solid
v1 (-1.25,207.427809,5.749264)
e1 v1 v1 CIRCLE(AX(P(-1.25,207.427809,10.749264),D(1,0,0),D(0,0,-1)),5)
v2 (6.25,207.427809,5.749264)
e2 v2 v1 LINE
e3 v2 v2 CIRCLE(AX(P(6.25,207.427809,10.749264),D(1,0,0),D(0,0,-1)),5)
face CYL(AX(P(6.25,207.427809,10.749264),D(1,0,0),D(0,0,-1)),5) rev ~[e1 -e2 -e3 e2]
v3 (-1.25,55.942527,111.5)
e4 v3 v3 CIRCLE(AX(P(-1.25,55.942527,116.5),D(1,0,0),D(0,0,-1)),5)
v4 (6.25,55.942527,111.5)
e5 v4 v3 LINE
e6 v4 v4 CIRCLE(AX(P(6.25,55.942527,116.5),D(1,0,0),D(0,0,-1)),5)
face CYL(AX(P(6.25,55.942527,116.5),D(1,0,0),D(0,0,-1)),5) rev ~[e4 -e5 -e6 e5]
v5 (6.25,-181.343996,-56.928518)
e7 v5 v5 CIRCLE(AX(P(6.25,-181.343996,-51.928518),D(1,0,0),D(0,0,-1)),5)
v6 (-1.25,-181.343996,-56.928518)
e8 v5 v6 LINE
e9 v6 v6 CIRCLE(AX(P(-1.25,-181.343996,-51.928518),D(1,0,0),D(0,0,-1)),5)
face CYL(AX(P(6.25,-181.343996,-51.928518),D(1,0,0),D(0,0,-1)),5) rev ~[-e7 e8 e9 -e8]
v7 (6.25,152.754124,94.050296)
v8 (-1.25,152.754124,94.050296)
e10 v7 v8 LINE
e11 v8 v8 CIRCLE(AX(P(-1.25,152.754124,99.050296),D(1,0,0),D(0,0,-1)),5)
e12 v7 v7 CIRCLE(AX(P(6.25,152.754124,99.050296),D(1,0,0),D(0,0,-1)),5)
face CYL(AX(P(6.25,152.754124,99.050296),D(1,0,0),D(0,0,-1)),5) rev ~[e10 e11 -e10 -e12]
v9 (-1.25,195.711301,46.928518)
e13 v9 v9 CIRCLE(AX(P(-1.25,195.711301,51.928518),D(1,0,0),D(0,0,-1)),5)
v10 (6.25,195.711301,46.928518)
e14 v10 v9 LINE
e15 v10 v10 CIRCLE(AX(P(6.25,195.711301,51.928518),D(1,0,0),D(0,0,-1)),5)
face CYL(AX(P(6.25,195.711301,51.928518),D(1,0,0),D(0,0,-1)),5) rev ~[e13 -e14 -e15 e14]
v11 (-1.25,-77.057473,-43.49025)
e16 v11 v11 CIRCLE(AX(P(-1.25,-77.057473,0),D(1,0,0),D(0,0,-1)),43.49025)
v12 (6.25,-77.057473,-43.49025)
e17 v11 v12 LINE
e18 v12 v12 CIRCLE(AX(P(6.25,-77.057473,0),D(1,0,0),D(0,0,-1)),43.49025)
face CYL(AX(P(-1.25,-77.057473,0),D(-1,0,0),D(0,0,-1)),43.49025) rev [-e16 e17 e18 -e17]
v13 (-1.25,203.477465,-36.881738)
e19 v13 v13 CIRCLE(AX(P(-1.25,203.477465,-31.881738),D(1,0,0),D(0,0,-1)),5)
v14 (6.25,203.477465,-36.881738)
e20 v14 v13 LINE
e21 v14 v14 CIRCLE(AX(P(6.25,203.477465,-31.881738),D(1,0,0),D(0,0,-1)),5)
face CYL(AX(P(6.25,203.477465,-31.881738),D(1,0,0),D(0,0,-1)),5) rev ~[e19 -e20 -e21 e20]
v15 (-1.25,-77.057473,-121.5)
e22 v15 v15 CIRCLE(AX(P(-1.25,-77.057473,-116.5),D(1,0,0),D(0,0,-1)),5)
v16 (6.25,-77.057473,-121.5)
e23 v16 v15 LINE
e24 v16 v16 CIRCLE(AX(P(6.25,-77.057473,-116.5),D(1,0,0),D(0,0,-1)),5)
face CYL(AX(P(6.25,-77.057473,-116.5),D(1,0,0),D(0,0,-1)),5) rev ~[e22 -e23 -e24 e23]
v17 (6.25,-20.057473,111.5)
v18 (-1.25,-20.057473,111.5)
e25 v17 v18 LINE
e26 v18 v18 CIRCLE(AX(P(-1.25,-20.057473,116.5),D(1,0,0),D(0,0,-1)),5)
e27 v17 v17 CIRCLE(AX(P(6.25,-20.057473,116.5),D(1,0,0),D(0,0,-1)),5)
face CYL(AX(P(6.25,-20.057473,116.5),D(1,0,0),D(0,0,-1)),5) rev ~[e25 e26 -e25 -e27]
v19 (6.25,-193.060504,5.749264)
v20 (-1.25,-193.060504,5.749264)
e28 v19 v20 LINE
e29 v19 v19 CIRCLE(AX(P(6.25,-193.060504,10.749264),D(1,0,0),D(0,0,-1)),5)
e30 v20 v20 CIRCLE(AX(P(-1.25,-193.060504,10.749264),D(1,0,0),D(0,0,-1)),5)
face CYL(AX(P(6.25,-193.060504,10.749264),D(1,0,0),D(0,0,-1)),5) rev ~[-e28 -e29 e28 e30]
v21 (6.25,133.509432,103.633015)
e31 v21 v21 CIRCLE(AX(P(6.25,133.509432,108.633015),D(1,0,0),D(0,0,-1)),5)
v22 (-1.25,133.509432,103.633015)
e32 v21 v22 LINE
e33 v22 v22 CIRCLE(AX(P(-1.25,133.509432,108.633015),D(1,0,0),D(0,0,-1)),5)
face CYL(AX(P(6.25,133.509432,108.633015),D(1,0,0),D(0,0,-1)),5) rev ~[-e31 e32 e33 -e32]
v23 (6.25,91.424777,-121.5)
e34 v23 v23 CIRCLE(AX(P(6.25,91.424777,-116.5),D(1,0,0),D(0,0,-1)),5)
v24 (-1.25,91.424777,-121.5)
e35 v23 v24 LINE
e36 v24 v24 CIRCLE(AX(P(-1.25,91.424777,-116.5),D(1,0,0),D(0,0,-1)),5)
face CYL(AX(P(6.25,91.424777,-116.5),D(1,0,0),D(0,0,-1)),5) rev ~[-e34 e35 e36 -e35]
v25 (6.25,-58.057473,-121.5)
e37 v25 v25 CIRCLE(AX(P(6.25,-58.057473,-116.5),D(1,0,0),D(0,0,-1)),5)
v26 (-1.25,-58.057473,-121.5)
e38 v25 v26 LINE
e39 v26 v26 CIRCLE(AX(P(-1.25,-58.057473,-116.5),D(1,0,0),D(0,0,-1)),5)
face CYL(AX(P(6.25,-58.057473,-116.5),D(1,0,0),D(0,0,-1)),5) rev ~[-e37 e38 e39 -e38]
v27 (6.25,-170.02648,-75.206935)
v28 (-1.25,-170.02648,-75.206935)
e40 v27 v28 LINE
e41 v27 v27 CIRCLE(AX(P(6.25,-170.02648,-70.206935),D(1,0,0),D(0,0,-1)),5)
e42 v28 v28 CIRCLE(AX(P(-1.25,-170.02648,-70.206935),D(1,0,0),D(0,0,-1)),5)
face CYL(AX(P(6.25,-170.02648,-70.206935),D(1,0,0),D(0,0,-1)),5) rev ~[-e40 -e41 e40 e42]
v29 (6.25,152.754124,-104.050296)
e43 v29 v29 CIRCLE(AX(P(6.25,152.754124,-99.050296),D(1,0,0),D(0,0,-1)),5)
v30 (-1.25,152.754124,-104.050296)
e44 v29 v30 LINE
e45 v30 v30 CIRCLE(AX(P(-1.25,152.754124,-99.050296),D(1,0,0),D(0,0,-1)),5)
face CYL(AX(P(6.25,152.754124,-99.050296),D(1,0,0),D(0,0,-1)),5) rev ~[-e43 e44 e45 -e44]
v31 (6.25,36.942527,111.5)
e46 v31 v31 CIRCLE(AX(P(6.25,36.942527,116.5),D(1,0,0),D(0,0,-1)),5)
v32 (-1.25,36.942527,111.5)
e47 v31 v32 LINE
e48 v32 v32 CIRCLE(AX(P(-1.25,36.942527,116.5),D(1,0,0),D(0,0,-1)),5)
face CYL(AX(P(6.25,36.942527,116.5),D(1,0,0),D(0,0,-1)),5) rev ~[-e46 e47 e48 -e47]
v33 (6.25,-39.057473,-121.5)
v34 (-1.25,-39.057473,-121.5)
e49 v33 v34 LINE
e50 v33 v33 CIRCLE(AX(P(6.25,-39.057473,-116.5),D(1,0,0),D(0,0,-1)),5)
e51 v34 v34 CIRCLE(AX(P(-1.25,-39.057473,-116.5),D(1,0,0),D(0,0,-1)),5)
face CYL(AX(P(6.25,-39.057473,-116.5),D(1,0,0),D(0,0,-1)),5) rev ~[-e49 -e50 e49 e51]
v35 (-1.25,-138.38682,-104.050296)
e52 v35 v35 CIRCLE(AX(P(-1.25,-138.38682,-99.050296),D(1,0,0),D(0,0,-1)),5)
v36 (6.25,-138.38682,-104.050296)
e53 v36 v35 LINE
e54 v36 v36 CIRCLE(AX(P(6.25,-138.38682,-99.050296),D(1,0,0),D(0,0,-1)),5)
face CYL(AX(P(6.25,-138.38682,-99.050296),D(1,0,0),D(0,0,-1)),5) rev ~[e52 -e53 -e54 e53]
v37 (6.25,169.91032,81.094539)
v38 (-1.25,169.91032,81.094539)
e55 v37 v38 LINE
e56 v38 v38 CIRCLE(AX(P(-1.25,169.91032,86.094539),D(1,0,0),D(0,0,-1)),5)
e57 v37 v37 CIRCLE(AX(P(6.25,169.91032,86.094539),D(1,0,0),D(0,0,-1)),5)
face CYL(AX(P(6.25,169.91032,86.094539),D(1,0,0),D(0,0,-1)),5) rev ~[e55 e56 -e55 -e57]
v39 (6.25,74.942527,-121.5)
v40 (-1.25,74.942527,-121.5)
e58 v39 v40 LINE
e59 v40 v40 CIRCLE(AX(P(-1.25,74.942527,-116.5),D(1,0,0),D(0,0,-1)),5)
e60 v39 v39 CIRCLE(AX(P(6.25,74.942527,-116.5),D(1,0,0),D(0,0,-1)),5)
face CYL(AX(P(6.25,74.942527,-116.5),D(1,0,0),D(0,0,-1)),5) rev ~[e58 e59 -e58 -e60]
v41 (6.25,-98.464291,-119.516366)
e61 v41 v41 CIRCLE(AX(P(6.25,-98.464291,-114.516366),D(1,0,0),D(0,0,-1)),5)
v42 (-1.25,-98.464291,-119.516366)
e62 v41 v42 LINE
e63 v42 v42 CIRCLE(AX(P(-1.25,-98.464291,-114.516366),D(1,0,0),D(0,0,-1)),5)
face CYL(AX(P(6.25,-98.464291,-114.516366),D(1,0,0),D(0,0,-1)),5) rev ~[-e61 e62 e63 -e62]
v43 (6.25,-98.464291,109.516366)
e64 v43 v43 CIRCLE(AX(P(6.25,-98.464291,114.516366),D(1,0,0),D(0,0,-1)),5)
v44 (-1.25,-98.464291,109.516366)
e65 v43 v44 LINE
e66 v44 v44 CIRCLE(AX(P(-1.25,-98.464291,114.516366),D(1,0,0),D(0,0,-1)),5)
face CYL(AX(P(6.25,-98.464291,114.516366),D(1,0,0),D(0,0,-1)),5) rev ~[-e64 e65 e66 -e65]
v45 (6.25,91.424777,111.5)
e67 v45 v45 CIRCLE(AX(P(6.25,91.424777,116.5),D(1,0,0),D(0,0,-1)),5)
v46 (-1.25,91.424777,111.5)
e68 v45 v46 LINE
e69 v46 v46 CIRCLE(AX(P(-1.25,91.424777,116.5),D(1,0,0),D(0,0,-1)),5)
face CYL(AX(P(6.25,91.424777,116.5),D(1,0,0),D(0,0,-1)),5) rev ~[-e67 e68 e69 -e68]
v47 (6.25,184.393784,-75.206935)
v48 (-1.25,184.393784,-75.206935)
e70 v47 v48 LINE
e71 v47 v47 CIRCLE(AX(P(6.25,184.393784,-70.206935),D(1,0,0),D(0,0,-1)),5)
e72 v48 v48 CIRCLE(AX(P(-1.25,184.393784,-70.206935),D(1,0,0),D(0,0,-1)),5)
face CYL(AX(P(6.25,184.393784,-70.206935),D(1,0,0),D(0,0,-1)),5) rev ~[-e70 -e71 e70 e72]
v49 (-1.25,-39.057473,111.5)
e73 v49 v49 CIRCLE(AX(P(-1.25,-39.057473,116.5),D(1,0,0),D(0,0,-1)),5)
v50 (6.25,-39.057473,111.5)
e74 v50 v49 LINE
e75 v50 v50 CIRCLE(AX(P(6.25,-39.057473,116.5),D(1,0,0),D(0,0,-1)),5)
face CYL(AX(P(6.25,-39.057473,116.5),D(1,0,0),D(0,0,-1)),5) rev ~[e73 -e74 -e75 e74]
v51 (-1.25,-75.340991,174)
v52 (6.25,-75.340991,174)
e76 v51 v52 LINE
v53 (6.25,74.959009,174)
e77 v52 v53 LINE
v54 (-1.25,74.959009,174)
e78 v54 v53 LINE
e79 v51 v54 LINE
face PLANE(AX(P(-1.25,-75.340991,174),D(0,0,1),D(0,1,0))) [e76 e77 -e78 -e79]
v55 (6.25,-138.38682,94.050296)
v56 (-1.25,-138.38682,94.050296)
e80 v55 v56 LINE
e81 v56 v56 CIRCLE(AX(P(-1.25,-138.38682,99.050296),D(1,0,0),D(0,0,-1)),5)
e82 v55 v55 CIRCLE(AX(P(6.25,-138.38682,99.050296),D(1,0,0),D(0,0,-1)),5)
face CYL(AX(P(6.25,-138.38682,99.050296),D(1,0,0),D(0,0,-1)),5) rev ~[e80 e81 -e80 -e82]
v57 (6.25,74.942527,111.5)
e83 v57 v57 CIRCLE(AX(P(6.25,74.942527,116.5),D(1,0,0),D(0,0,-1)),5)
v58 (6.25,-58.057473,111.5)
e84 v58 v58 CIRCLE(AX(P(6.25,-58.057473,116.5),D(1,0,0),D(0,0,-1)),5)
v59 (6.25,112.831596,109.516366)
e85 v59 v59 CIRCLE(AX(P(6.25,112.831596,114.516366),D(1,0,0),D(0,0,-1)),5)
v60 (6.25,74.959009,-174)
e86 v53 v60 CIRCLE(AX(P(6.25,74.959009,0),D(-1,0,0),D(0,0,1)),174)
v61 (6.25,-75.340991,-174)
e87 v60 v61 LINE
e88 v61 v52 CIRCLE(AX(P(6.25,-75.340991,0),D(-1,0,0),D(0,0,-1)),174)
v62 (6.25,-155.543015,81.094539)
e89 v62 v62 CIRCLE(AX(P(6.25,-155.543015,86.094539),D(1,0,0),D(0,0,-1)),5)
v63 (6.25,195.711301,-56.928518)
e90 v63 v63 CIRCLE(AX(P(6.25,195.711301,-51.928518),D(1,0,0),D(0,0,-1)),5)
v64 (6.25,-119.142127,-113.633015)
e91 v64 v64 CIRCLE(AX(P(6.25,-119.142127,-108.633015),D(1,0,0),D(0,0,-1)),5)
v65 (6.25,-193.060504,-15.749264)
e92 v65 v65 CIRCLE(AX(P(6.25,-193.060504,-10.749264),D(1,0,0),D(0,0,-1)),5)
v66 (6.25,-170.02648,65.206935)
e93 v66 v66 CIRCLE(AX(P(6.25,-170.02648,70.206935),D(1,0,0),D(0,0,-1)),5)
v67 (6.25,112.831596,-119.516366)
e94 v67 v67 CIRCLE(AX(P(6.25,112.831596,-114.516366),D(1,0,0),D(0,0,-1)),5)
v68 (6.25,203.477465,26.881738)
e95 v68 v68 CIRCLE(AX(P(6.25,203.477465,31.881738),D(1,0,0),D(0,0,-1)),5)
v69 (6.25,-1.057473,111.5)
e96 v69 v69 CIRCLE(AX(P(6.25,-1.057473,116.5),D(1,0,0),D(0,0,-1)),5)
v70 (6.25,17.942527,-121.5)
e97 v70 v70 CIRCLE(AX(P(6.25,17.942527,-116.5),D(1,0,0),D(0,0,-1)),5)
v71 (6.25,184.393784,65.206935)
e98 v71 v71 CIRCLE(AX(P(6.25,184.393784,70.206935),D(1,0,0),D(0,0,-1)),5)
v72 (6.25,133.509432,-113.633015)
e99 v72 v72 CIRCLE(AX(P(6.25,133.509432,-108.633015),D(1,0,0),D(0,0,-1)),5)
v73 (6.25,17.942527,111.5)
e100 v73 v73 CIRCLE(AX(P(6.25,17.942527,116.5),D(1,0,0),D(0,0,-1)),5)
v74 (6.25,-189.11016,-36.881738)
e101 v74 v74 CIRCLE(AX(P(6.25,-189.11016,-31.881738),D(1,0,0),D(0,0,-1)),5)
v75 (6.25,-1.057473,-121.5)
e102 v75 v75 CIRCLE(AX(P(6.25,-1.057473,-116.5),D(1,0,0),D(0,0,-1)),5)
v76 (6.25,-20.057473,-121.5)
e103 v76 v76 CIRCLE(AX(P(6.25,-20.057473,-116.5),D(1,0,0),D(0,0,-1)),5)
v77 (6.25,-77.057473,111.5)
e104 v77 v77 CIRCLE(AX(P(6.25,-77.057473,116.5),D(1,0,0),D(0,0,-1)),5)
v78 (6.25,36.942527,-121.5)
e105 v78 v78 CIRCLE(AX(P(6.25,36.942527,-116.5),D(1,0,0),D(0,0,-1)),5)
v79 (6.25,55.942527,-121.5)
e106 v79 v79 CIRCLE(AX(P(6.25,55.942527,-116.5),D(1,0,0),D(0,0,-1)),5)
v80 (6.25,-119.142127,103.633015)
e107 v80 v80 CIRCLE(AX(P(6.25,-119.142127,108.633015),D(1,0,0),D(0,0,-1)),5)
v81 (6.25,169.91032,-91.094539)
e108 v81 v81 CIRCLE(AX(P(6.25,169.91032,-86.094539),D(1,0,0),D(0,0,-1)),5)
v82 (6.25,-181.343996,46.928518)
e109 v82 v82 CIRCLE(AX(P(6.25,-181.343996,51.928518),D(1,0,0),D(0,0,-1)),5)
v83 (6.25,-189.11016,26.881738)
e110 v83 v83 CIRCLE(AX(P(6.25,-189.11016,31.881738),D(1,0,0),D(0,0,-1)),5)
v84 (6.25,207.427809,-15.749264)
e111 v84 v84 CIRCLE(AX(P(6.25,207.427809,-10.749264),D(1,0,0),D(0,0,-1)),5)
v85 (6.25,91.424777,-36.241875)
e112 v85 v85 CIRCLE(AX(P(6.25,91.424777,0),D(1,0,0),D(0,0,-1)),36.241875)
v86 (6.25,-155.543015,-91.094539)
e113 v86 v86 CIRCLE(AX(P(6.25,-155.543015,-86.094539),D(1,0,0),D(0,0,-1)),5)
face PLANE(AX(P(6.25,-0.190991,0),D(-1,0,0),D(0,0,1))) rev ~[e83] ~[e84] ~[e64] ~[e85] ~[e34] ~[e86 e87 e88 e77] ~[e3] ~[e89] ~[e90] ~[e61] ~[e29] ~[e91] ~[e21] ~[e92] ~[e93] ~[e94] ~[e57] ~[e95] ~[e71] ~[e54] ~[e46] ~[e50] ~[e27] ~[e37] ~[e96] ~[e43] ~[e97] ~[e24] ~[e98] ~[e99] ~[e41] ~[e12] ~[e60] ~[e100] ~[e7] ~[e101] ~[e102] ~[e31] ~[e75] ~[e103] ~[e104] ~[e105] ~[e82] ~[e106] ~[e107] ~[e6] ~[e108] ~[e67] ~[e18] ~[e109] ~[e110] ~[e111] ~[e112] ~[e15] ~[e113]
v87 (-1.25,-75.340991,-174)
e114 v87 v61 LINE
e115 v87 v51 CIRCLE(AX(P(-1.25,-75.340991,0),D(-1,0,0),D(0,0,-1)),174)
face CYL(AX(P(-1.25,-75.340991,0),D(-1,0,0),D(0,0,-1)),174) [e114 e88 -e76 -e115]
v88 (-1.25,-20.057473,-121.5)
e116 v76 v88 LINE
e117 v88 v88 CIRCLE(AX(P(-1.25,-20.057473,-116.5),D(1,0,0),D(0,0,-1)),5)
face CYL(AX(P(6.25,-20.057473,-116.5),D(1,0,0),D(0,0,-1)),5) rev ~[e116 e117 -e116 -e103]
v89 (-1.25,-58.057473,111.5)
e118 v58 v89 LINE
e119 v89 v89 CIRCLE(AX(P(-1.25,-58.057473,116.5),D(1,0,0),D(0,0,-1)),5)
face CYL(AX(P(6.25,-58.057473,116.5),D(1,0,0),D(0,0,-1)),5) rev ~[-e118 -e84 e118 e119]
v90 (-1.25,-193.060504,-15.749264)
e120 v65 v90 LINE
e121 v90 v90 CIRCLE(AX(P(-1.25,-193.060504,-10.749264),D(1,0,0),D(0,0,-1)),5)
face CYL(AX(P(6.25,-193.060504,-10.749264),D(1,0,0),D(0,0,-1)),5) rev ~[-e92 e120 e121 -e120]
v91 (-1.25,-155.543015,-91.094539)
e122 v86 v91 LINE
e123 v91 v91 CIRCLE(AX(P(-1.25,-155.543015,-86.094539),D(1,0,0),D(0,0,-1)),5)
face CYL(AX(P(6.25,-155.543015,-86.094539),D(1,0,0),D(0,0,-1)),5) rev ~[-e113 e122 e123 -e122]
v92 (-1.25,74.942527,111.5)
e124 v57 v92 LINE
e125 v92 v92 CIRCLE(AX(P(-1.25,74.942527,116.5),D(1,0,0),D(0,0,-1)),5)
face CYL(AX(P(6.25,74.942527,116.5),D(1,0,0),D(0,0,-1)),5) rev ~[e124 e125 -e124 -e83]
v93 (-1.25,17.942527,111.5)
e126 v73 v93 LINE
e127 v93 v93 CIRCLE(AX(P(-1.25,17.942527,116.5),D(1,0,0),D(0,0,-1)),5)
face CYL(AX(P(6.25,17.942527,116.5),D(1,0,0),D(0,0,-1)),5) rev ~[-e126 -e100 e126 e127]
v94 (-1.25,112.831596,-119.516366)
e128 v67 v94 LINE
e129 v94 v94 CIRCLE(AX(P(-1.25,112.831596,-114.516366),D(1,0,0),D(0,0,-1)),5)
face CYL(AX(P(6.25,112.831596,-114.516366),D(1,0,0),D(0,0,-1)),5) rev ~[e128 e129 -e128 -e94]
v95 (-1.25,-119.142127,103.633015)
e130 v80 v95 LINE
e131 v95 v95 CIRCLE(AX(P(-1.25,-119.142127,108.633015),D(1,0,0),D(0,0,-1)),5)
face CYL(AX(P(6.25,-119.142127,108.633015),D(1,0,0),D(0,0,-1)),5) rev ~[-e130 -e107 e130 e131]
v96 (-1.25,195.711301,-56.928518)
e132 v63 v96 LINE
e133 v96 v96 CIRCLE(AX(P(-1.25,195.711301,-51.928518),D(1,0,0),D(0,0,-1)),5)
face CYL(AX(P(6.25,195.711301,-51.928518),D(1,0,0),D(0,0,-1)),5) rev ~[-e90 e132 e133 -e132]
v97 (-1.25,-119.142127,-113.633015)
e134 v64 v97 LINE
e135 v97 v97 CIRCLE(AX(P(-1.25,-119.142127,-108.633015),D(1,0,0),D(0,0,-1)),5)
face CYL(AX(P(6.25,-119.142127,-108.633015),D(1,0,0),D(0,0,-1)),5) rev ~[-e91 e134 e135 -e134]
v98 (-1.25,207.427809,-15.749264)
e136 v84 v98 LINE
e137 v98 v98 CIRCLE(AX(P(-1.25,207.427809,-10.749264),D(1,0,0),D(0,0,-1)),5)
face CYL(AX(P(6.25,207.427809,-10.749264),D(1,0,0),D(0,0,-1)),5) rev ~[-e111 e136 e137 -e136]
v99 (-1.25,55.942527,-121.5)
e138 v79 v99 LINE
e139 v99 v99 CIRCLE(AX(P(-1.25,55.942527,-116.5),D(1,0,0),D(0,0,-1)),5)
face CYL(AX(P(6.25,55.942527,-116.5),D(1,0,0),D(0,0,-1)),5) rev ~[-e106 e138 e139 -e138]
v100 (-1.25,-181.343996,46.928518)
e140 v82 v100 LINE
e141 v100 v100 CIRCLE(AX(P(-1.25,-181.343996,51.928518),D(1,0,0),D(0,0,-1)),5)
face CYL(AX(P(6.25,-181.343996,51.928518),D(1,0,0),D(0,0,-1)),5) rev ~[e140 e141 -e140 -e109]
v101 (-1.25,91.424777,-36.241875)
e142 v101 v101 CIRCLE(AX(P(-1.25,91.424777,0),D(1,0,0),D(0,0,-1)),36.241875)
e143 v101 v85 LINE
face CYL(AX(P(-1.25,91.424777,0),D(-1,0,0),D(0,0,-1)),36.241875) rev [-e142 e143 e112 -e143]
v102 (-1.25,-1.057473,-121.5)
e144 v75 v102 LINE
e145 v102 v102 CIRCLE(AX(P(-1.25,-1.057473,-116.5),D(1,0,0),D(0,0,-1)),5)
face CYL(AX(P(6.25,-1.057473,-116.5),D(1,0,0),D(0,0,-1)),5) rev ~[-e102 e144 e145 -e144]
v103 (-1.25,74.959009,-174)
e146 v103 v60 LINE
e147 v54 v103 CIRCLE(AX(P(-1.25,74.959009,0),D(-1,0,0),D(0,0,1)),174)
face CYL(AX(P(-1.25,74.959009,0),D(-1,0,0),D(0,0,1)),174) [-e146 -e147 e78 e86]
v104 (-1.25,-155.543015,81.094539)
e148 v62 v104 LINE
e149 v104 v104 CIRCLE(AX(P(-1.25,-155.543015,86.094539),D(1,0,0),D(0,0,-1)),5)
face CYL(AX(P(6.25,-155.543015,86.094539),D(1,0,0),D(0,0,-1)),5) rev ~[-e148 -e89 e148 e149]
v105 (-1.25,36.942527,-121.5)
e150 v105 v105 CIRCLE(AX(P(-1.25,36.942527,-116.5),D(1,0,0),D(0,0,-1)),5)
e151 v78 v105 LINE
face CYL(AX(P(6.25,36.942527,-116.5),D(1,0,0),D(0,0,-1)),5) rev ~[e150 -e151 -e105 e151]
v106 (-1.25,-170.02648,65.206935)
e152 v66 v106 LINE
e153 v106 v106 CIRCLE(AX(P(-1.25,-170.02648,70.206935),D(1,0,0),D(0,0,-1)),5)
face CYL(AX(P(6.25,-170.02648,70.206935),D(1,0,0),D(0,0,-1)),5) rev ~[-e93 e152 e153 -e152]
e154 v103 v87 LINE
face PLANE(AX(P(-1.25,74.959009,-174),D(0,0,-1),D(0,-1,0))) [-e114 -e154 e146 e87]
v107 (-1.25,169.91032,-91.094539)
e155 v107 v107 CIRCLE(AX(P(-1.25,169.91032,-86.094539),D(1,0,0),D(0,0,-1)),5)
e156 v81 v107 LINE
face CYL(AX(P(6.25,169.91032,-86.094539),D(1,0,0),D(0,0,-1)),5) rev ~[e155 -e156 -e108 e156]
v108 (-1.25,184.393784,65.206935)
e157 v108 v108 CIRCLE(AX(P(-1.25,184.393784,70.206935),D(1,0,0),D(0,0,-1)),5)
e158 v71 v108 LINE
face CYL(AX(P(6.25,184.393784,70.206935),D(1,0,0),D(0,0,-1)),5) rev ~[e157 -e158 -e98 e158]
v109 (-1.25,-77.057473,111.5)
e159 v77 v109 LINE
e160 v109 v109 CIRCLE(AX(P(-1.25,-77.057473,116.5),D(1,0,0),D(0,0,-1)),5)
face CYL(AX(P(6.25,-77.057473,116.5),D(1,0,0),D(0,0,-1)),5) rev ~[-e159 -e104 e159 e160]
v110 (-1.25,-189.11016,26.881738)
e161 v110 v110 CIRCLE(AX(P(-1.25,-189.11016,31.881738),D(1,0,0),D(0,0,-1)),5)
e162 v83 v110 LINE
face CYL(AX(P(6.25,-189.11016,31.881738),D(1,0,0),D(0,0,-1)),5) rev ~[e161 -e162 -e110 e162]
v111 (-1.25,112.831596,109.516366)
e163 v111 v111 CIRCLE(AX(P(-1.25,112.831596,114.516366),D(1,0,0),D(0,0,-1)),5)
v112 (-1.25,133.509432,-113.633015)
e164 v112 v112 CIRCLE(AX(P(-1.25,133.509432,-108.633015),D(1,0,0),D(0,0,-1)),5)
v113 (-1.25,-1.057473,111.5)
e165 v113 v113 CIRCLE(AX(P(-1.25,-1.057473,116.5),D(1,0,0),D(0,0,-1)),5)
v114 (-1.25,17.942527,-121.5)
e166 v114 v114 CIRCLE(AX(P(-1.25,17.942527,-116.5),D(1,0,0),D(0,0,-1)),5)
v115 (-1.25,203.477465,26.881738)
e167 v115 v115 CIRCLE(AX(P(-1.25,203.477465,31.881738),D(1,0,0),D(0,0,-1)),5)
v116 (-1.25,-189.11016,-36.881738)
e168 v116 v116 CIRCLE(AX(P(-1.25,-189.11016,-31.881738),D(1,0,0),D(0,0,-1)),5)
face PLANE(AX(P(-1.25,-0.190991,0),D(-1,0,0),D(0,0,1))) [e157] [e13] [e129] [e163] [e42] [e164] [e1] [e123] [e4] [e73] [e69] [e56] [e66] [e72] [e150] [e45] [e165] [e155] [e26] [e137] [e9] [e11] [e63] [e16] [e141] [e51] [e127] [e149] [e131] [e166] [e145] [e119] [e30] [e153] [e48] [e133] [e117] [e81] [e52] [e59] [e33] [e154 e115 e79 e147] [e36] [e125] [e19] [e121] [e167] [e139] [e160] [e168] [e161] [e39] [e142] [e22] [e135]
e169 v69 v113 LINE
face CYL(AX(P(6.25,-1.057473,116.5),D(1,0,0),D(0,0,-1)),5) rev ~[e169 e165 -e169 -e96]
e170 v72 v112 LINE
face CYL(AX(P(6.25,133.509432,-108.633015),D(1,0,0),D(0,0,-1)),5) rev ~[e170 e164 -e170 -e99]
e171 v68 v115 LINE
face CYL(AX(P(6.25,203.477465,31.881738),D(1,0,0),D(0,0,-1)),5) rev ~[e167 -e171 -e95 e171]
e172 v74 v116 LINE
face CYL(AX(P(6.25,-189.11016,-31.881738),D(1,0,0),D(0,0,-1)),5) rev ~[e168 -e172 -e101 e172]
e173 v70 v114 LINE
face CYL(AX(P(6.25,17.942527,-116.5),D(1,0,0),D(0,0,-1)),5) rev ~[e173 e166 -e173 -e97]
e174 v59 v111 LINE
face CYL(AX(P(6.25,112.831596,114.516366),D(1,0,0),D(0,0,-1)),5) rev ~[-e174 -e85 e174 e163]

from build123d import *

# Parameters (mm, degrees)
SKETCH1_R           = 24.16125
SKETCH1_R_2         = 28.9935
BOSS_EXTRUDE1_DEPTH = 5
SCALE1_SCALE        = 1.5
SKETCH2_R           = 5
CUT_EXTRUDE1_DEPTH  = 10


with BuildPart() as part:
    # Sketch1 → Boss-Extrude1 (new body)
    with BuildSketch(Plane(origin=(0, 0, 0), x_dir=(0, 0, -1), z_dir=(1, 0, 0))):
        with BuildLine():
            Line((116, 50.1), (116, -50.1))
            ThreePointArc((116, -50.1), (0, -166.1), (-116, -50.1))
            Line((-116, -50.1), (-116, 50.1))
            ThreePointArc((-116, 50.1), (0, 166.1), (116, 50.1))
        make_face()
        with Locations((0, 61.077179293)):
            Circle(SKETCH1_R, mode=Mode.SUBTRACT)
        with Locations((0, -51.244320707)):
            Circle(SKETCH1_R_2, mode=Mode.SUBTRACT)
    extrude(amount=BOSS_EXTRUDE1_DEPTH)


with BuildPart() as part_1:
    # Scale1: scaled about (2.5, 0.381982972, 0)
    add(part.part.scale(SCALE1_SCALE).moved(Location((-1.25, -0.190991486, 0))))

    # Sketch2 → Cut-Extrude1 (cut)
    with BuildSketch(Plane(origin=(6.25, 0, 0), x_dir=(0, 0, -1), z_dir=(1, 0, 0))):
        with Locations((116.5, -58.057472547)):
            Circle(SKETCH2_R)
        with Locations((116.5, -77.057472547)):
            Circle(SKETCH2_R)
        with Locations((114.516366113, -98.464291372)):
            Circle(SKETCH2_R)
        with Locations((108.633014726, -119.142126657)):
            Circle(SKETCH2_R)
        with Locations((116.5, -20.057472547)):
            Circle(SKETCH2_R)
        with Locations((116.5, -1.057472547)):
            Circle(SKETCH2_R)
        with Locations((116.5, 17.942527453)):
            Circle(SKETCH2_R)
        with Locations((116.5, 36.942527453)):
            Circle(SKETCH2_R)
        with Locations((116.5, 55.942527453)):
            Circle(SKETCH2_R)
        with Locations((116.5, 74.942527453)):
            Circle(SKETCH2_R)
        with Locations((116.5, 91.424777453)):
            Circle(SKETCH2_R)
        with Locations((114.516366113, 112.831596279)):
            Circle(SKETCH2_R)
        with Locations((108.633014726, 133.509431564)):
            Circle(SKETCH2_R)
        with Locations((86.094538856, 169.910319938)):
            Circle(SKETCH2_R)
        with Locations((70.206935138, 184.393784431)):
            Circle(SKETCH2_R)
        with Locations((51.928518448, 195.711300896)):
            Circle(SKETCH2_R)
        with Locations((31.881738343, 203.477464883)):
            Circle(SKETCH2_R)
        with Locations((10.749263877, 207.427808992)):
            Circle(SKETCH2_R)
        with Locations((-10.749263877, 207.427808992)):
            Circle(SKETCH2_R)
        with Locations((-31.881738343, 203.477464883)):
            Circle(SKETCH2_R)
        with Locations((-51.928518448, 195.711300896)):
            Circle(SKETCH2_R)
        with Locations((-70.206935138, 184.393784431)):
            Circle(SKETCH2_R)
        with Locations((-86.094538856, 169.910319938)):
            Circle(SKETCH2_R)
        with Locations((-99.050296312, 152.754124429)):
            Circle(SKETCH2_R)
        with Locations((-108.633014726, 133.509431564)):
            Circle(SKETCH2_R)
        with Locations((-114.516366113, 112.831596279)):
            Circle(SKETCH2_R)
        with Locations((-116.5, 91.424777453)):
            Circle(SKETCH2_R)
        with Locations((-116.5, 74.942527453)):
            Circle(SKETCH2_R)
        with Locations((-116.5, 55.942527453)):
            Circle(SKETCH2_R)
        with Locations((-116.5, 36.942527453)):
            Circle(SKETCH2_R)
        with Locations((-116.5, 17.942527453)):
            Circle(SKETCH2_R)
        with Locations((-116.5, -1.057472547)):
            Circle(SKETCH2_R)
        with Locations((-116.5, -20.057472547)):
            Circle(SKETCH2_R)
        with Locations((-116.5, -39.057472547)):
            Circle(SKETCH2_R)
        with Locations((-116.5, -58.057472547)):
            Circle(SKETCH2_R)
        with Locations((-116.5, -77.057472547)):
            Circle(SKETCH2_R)
        with Locations((-114.516366113, -98.464291372)):
            Circle(SKETCH2_R)
        with Locations((-108.633014726, -119.142126657)):
            Circle(SKETCH2_R)
        with Locations((-99.050296312, -138.386819522)):
            Circle(SKETCH2_R)
        with Locations((-86.094538856, -155.543015032)):
            Circle(SKETCH2_R)
        with Locations((-70.206935138, -170.026479525)):
            Circle(SKETCH2_R)
        with Locations((-51.928518448, -181.34399599)):
            Circle(SKETCH2_R)
        with Locations((-31.881738343, -189.110159976)):
            Circle(SKETCH2_R)
        with Locations((-10.749263877, -193.060504085)):
            Circle(SKETCH2_R)
        with Locations((10.749263877, -193.060504085)):
            Circle(SKETCH2_R)
        with Locations((31.881738343, -189.110159976)):
            Circle(SKETCH2_R)
        with Locations((51.928518448, -181.34399599)):
            Circle(SKETCH2_R)
        with Locations((70.206935138, -170.026479525)):
            Circle(SKETCH2_R)
        with Locations((99.050296313, -138.386819522)):
            Circle(SKETCH2_R)
        with Locations((86.094538856, -155.543015031)):
            Circle(SKETCH2_R)
        with Locations((116.5, -39.057472547)):
            Circle(SKETCH2_R)
        with Locations((99.050296313, 152.754124429)):
            Circle(SKETCH2_R)
    extrude(amount=-CUT_EXTRUDE1_DEPTH, mode=Mode.SUBTRACT)


solid = part_1.part
